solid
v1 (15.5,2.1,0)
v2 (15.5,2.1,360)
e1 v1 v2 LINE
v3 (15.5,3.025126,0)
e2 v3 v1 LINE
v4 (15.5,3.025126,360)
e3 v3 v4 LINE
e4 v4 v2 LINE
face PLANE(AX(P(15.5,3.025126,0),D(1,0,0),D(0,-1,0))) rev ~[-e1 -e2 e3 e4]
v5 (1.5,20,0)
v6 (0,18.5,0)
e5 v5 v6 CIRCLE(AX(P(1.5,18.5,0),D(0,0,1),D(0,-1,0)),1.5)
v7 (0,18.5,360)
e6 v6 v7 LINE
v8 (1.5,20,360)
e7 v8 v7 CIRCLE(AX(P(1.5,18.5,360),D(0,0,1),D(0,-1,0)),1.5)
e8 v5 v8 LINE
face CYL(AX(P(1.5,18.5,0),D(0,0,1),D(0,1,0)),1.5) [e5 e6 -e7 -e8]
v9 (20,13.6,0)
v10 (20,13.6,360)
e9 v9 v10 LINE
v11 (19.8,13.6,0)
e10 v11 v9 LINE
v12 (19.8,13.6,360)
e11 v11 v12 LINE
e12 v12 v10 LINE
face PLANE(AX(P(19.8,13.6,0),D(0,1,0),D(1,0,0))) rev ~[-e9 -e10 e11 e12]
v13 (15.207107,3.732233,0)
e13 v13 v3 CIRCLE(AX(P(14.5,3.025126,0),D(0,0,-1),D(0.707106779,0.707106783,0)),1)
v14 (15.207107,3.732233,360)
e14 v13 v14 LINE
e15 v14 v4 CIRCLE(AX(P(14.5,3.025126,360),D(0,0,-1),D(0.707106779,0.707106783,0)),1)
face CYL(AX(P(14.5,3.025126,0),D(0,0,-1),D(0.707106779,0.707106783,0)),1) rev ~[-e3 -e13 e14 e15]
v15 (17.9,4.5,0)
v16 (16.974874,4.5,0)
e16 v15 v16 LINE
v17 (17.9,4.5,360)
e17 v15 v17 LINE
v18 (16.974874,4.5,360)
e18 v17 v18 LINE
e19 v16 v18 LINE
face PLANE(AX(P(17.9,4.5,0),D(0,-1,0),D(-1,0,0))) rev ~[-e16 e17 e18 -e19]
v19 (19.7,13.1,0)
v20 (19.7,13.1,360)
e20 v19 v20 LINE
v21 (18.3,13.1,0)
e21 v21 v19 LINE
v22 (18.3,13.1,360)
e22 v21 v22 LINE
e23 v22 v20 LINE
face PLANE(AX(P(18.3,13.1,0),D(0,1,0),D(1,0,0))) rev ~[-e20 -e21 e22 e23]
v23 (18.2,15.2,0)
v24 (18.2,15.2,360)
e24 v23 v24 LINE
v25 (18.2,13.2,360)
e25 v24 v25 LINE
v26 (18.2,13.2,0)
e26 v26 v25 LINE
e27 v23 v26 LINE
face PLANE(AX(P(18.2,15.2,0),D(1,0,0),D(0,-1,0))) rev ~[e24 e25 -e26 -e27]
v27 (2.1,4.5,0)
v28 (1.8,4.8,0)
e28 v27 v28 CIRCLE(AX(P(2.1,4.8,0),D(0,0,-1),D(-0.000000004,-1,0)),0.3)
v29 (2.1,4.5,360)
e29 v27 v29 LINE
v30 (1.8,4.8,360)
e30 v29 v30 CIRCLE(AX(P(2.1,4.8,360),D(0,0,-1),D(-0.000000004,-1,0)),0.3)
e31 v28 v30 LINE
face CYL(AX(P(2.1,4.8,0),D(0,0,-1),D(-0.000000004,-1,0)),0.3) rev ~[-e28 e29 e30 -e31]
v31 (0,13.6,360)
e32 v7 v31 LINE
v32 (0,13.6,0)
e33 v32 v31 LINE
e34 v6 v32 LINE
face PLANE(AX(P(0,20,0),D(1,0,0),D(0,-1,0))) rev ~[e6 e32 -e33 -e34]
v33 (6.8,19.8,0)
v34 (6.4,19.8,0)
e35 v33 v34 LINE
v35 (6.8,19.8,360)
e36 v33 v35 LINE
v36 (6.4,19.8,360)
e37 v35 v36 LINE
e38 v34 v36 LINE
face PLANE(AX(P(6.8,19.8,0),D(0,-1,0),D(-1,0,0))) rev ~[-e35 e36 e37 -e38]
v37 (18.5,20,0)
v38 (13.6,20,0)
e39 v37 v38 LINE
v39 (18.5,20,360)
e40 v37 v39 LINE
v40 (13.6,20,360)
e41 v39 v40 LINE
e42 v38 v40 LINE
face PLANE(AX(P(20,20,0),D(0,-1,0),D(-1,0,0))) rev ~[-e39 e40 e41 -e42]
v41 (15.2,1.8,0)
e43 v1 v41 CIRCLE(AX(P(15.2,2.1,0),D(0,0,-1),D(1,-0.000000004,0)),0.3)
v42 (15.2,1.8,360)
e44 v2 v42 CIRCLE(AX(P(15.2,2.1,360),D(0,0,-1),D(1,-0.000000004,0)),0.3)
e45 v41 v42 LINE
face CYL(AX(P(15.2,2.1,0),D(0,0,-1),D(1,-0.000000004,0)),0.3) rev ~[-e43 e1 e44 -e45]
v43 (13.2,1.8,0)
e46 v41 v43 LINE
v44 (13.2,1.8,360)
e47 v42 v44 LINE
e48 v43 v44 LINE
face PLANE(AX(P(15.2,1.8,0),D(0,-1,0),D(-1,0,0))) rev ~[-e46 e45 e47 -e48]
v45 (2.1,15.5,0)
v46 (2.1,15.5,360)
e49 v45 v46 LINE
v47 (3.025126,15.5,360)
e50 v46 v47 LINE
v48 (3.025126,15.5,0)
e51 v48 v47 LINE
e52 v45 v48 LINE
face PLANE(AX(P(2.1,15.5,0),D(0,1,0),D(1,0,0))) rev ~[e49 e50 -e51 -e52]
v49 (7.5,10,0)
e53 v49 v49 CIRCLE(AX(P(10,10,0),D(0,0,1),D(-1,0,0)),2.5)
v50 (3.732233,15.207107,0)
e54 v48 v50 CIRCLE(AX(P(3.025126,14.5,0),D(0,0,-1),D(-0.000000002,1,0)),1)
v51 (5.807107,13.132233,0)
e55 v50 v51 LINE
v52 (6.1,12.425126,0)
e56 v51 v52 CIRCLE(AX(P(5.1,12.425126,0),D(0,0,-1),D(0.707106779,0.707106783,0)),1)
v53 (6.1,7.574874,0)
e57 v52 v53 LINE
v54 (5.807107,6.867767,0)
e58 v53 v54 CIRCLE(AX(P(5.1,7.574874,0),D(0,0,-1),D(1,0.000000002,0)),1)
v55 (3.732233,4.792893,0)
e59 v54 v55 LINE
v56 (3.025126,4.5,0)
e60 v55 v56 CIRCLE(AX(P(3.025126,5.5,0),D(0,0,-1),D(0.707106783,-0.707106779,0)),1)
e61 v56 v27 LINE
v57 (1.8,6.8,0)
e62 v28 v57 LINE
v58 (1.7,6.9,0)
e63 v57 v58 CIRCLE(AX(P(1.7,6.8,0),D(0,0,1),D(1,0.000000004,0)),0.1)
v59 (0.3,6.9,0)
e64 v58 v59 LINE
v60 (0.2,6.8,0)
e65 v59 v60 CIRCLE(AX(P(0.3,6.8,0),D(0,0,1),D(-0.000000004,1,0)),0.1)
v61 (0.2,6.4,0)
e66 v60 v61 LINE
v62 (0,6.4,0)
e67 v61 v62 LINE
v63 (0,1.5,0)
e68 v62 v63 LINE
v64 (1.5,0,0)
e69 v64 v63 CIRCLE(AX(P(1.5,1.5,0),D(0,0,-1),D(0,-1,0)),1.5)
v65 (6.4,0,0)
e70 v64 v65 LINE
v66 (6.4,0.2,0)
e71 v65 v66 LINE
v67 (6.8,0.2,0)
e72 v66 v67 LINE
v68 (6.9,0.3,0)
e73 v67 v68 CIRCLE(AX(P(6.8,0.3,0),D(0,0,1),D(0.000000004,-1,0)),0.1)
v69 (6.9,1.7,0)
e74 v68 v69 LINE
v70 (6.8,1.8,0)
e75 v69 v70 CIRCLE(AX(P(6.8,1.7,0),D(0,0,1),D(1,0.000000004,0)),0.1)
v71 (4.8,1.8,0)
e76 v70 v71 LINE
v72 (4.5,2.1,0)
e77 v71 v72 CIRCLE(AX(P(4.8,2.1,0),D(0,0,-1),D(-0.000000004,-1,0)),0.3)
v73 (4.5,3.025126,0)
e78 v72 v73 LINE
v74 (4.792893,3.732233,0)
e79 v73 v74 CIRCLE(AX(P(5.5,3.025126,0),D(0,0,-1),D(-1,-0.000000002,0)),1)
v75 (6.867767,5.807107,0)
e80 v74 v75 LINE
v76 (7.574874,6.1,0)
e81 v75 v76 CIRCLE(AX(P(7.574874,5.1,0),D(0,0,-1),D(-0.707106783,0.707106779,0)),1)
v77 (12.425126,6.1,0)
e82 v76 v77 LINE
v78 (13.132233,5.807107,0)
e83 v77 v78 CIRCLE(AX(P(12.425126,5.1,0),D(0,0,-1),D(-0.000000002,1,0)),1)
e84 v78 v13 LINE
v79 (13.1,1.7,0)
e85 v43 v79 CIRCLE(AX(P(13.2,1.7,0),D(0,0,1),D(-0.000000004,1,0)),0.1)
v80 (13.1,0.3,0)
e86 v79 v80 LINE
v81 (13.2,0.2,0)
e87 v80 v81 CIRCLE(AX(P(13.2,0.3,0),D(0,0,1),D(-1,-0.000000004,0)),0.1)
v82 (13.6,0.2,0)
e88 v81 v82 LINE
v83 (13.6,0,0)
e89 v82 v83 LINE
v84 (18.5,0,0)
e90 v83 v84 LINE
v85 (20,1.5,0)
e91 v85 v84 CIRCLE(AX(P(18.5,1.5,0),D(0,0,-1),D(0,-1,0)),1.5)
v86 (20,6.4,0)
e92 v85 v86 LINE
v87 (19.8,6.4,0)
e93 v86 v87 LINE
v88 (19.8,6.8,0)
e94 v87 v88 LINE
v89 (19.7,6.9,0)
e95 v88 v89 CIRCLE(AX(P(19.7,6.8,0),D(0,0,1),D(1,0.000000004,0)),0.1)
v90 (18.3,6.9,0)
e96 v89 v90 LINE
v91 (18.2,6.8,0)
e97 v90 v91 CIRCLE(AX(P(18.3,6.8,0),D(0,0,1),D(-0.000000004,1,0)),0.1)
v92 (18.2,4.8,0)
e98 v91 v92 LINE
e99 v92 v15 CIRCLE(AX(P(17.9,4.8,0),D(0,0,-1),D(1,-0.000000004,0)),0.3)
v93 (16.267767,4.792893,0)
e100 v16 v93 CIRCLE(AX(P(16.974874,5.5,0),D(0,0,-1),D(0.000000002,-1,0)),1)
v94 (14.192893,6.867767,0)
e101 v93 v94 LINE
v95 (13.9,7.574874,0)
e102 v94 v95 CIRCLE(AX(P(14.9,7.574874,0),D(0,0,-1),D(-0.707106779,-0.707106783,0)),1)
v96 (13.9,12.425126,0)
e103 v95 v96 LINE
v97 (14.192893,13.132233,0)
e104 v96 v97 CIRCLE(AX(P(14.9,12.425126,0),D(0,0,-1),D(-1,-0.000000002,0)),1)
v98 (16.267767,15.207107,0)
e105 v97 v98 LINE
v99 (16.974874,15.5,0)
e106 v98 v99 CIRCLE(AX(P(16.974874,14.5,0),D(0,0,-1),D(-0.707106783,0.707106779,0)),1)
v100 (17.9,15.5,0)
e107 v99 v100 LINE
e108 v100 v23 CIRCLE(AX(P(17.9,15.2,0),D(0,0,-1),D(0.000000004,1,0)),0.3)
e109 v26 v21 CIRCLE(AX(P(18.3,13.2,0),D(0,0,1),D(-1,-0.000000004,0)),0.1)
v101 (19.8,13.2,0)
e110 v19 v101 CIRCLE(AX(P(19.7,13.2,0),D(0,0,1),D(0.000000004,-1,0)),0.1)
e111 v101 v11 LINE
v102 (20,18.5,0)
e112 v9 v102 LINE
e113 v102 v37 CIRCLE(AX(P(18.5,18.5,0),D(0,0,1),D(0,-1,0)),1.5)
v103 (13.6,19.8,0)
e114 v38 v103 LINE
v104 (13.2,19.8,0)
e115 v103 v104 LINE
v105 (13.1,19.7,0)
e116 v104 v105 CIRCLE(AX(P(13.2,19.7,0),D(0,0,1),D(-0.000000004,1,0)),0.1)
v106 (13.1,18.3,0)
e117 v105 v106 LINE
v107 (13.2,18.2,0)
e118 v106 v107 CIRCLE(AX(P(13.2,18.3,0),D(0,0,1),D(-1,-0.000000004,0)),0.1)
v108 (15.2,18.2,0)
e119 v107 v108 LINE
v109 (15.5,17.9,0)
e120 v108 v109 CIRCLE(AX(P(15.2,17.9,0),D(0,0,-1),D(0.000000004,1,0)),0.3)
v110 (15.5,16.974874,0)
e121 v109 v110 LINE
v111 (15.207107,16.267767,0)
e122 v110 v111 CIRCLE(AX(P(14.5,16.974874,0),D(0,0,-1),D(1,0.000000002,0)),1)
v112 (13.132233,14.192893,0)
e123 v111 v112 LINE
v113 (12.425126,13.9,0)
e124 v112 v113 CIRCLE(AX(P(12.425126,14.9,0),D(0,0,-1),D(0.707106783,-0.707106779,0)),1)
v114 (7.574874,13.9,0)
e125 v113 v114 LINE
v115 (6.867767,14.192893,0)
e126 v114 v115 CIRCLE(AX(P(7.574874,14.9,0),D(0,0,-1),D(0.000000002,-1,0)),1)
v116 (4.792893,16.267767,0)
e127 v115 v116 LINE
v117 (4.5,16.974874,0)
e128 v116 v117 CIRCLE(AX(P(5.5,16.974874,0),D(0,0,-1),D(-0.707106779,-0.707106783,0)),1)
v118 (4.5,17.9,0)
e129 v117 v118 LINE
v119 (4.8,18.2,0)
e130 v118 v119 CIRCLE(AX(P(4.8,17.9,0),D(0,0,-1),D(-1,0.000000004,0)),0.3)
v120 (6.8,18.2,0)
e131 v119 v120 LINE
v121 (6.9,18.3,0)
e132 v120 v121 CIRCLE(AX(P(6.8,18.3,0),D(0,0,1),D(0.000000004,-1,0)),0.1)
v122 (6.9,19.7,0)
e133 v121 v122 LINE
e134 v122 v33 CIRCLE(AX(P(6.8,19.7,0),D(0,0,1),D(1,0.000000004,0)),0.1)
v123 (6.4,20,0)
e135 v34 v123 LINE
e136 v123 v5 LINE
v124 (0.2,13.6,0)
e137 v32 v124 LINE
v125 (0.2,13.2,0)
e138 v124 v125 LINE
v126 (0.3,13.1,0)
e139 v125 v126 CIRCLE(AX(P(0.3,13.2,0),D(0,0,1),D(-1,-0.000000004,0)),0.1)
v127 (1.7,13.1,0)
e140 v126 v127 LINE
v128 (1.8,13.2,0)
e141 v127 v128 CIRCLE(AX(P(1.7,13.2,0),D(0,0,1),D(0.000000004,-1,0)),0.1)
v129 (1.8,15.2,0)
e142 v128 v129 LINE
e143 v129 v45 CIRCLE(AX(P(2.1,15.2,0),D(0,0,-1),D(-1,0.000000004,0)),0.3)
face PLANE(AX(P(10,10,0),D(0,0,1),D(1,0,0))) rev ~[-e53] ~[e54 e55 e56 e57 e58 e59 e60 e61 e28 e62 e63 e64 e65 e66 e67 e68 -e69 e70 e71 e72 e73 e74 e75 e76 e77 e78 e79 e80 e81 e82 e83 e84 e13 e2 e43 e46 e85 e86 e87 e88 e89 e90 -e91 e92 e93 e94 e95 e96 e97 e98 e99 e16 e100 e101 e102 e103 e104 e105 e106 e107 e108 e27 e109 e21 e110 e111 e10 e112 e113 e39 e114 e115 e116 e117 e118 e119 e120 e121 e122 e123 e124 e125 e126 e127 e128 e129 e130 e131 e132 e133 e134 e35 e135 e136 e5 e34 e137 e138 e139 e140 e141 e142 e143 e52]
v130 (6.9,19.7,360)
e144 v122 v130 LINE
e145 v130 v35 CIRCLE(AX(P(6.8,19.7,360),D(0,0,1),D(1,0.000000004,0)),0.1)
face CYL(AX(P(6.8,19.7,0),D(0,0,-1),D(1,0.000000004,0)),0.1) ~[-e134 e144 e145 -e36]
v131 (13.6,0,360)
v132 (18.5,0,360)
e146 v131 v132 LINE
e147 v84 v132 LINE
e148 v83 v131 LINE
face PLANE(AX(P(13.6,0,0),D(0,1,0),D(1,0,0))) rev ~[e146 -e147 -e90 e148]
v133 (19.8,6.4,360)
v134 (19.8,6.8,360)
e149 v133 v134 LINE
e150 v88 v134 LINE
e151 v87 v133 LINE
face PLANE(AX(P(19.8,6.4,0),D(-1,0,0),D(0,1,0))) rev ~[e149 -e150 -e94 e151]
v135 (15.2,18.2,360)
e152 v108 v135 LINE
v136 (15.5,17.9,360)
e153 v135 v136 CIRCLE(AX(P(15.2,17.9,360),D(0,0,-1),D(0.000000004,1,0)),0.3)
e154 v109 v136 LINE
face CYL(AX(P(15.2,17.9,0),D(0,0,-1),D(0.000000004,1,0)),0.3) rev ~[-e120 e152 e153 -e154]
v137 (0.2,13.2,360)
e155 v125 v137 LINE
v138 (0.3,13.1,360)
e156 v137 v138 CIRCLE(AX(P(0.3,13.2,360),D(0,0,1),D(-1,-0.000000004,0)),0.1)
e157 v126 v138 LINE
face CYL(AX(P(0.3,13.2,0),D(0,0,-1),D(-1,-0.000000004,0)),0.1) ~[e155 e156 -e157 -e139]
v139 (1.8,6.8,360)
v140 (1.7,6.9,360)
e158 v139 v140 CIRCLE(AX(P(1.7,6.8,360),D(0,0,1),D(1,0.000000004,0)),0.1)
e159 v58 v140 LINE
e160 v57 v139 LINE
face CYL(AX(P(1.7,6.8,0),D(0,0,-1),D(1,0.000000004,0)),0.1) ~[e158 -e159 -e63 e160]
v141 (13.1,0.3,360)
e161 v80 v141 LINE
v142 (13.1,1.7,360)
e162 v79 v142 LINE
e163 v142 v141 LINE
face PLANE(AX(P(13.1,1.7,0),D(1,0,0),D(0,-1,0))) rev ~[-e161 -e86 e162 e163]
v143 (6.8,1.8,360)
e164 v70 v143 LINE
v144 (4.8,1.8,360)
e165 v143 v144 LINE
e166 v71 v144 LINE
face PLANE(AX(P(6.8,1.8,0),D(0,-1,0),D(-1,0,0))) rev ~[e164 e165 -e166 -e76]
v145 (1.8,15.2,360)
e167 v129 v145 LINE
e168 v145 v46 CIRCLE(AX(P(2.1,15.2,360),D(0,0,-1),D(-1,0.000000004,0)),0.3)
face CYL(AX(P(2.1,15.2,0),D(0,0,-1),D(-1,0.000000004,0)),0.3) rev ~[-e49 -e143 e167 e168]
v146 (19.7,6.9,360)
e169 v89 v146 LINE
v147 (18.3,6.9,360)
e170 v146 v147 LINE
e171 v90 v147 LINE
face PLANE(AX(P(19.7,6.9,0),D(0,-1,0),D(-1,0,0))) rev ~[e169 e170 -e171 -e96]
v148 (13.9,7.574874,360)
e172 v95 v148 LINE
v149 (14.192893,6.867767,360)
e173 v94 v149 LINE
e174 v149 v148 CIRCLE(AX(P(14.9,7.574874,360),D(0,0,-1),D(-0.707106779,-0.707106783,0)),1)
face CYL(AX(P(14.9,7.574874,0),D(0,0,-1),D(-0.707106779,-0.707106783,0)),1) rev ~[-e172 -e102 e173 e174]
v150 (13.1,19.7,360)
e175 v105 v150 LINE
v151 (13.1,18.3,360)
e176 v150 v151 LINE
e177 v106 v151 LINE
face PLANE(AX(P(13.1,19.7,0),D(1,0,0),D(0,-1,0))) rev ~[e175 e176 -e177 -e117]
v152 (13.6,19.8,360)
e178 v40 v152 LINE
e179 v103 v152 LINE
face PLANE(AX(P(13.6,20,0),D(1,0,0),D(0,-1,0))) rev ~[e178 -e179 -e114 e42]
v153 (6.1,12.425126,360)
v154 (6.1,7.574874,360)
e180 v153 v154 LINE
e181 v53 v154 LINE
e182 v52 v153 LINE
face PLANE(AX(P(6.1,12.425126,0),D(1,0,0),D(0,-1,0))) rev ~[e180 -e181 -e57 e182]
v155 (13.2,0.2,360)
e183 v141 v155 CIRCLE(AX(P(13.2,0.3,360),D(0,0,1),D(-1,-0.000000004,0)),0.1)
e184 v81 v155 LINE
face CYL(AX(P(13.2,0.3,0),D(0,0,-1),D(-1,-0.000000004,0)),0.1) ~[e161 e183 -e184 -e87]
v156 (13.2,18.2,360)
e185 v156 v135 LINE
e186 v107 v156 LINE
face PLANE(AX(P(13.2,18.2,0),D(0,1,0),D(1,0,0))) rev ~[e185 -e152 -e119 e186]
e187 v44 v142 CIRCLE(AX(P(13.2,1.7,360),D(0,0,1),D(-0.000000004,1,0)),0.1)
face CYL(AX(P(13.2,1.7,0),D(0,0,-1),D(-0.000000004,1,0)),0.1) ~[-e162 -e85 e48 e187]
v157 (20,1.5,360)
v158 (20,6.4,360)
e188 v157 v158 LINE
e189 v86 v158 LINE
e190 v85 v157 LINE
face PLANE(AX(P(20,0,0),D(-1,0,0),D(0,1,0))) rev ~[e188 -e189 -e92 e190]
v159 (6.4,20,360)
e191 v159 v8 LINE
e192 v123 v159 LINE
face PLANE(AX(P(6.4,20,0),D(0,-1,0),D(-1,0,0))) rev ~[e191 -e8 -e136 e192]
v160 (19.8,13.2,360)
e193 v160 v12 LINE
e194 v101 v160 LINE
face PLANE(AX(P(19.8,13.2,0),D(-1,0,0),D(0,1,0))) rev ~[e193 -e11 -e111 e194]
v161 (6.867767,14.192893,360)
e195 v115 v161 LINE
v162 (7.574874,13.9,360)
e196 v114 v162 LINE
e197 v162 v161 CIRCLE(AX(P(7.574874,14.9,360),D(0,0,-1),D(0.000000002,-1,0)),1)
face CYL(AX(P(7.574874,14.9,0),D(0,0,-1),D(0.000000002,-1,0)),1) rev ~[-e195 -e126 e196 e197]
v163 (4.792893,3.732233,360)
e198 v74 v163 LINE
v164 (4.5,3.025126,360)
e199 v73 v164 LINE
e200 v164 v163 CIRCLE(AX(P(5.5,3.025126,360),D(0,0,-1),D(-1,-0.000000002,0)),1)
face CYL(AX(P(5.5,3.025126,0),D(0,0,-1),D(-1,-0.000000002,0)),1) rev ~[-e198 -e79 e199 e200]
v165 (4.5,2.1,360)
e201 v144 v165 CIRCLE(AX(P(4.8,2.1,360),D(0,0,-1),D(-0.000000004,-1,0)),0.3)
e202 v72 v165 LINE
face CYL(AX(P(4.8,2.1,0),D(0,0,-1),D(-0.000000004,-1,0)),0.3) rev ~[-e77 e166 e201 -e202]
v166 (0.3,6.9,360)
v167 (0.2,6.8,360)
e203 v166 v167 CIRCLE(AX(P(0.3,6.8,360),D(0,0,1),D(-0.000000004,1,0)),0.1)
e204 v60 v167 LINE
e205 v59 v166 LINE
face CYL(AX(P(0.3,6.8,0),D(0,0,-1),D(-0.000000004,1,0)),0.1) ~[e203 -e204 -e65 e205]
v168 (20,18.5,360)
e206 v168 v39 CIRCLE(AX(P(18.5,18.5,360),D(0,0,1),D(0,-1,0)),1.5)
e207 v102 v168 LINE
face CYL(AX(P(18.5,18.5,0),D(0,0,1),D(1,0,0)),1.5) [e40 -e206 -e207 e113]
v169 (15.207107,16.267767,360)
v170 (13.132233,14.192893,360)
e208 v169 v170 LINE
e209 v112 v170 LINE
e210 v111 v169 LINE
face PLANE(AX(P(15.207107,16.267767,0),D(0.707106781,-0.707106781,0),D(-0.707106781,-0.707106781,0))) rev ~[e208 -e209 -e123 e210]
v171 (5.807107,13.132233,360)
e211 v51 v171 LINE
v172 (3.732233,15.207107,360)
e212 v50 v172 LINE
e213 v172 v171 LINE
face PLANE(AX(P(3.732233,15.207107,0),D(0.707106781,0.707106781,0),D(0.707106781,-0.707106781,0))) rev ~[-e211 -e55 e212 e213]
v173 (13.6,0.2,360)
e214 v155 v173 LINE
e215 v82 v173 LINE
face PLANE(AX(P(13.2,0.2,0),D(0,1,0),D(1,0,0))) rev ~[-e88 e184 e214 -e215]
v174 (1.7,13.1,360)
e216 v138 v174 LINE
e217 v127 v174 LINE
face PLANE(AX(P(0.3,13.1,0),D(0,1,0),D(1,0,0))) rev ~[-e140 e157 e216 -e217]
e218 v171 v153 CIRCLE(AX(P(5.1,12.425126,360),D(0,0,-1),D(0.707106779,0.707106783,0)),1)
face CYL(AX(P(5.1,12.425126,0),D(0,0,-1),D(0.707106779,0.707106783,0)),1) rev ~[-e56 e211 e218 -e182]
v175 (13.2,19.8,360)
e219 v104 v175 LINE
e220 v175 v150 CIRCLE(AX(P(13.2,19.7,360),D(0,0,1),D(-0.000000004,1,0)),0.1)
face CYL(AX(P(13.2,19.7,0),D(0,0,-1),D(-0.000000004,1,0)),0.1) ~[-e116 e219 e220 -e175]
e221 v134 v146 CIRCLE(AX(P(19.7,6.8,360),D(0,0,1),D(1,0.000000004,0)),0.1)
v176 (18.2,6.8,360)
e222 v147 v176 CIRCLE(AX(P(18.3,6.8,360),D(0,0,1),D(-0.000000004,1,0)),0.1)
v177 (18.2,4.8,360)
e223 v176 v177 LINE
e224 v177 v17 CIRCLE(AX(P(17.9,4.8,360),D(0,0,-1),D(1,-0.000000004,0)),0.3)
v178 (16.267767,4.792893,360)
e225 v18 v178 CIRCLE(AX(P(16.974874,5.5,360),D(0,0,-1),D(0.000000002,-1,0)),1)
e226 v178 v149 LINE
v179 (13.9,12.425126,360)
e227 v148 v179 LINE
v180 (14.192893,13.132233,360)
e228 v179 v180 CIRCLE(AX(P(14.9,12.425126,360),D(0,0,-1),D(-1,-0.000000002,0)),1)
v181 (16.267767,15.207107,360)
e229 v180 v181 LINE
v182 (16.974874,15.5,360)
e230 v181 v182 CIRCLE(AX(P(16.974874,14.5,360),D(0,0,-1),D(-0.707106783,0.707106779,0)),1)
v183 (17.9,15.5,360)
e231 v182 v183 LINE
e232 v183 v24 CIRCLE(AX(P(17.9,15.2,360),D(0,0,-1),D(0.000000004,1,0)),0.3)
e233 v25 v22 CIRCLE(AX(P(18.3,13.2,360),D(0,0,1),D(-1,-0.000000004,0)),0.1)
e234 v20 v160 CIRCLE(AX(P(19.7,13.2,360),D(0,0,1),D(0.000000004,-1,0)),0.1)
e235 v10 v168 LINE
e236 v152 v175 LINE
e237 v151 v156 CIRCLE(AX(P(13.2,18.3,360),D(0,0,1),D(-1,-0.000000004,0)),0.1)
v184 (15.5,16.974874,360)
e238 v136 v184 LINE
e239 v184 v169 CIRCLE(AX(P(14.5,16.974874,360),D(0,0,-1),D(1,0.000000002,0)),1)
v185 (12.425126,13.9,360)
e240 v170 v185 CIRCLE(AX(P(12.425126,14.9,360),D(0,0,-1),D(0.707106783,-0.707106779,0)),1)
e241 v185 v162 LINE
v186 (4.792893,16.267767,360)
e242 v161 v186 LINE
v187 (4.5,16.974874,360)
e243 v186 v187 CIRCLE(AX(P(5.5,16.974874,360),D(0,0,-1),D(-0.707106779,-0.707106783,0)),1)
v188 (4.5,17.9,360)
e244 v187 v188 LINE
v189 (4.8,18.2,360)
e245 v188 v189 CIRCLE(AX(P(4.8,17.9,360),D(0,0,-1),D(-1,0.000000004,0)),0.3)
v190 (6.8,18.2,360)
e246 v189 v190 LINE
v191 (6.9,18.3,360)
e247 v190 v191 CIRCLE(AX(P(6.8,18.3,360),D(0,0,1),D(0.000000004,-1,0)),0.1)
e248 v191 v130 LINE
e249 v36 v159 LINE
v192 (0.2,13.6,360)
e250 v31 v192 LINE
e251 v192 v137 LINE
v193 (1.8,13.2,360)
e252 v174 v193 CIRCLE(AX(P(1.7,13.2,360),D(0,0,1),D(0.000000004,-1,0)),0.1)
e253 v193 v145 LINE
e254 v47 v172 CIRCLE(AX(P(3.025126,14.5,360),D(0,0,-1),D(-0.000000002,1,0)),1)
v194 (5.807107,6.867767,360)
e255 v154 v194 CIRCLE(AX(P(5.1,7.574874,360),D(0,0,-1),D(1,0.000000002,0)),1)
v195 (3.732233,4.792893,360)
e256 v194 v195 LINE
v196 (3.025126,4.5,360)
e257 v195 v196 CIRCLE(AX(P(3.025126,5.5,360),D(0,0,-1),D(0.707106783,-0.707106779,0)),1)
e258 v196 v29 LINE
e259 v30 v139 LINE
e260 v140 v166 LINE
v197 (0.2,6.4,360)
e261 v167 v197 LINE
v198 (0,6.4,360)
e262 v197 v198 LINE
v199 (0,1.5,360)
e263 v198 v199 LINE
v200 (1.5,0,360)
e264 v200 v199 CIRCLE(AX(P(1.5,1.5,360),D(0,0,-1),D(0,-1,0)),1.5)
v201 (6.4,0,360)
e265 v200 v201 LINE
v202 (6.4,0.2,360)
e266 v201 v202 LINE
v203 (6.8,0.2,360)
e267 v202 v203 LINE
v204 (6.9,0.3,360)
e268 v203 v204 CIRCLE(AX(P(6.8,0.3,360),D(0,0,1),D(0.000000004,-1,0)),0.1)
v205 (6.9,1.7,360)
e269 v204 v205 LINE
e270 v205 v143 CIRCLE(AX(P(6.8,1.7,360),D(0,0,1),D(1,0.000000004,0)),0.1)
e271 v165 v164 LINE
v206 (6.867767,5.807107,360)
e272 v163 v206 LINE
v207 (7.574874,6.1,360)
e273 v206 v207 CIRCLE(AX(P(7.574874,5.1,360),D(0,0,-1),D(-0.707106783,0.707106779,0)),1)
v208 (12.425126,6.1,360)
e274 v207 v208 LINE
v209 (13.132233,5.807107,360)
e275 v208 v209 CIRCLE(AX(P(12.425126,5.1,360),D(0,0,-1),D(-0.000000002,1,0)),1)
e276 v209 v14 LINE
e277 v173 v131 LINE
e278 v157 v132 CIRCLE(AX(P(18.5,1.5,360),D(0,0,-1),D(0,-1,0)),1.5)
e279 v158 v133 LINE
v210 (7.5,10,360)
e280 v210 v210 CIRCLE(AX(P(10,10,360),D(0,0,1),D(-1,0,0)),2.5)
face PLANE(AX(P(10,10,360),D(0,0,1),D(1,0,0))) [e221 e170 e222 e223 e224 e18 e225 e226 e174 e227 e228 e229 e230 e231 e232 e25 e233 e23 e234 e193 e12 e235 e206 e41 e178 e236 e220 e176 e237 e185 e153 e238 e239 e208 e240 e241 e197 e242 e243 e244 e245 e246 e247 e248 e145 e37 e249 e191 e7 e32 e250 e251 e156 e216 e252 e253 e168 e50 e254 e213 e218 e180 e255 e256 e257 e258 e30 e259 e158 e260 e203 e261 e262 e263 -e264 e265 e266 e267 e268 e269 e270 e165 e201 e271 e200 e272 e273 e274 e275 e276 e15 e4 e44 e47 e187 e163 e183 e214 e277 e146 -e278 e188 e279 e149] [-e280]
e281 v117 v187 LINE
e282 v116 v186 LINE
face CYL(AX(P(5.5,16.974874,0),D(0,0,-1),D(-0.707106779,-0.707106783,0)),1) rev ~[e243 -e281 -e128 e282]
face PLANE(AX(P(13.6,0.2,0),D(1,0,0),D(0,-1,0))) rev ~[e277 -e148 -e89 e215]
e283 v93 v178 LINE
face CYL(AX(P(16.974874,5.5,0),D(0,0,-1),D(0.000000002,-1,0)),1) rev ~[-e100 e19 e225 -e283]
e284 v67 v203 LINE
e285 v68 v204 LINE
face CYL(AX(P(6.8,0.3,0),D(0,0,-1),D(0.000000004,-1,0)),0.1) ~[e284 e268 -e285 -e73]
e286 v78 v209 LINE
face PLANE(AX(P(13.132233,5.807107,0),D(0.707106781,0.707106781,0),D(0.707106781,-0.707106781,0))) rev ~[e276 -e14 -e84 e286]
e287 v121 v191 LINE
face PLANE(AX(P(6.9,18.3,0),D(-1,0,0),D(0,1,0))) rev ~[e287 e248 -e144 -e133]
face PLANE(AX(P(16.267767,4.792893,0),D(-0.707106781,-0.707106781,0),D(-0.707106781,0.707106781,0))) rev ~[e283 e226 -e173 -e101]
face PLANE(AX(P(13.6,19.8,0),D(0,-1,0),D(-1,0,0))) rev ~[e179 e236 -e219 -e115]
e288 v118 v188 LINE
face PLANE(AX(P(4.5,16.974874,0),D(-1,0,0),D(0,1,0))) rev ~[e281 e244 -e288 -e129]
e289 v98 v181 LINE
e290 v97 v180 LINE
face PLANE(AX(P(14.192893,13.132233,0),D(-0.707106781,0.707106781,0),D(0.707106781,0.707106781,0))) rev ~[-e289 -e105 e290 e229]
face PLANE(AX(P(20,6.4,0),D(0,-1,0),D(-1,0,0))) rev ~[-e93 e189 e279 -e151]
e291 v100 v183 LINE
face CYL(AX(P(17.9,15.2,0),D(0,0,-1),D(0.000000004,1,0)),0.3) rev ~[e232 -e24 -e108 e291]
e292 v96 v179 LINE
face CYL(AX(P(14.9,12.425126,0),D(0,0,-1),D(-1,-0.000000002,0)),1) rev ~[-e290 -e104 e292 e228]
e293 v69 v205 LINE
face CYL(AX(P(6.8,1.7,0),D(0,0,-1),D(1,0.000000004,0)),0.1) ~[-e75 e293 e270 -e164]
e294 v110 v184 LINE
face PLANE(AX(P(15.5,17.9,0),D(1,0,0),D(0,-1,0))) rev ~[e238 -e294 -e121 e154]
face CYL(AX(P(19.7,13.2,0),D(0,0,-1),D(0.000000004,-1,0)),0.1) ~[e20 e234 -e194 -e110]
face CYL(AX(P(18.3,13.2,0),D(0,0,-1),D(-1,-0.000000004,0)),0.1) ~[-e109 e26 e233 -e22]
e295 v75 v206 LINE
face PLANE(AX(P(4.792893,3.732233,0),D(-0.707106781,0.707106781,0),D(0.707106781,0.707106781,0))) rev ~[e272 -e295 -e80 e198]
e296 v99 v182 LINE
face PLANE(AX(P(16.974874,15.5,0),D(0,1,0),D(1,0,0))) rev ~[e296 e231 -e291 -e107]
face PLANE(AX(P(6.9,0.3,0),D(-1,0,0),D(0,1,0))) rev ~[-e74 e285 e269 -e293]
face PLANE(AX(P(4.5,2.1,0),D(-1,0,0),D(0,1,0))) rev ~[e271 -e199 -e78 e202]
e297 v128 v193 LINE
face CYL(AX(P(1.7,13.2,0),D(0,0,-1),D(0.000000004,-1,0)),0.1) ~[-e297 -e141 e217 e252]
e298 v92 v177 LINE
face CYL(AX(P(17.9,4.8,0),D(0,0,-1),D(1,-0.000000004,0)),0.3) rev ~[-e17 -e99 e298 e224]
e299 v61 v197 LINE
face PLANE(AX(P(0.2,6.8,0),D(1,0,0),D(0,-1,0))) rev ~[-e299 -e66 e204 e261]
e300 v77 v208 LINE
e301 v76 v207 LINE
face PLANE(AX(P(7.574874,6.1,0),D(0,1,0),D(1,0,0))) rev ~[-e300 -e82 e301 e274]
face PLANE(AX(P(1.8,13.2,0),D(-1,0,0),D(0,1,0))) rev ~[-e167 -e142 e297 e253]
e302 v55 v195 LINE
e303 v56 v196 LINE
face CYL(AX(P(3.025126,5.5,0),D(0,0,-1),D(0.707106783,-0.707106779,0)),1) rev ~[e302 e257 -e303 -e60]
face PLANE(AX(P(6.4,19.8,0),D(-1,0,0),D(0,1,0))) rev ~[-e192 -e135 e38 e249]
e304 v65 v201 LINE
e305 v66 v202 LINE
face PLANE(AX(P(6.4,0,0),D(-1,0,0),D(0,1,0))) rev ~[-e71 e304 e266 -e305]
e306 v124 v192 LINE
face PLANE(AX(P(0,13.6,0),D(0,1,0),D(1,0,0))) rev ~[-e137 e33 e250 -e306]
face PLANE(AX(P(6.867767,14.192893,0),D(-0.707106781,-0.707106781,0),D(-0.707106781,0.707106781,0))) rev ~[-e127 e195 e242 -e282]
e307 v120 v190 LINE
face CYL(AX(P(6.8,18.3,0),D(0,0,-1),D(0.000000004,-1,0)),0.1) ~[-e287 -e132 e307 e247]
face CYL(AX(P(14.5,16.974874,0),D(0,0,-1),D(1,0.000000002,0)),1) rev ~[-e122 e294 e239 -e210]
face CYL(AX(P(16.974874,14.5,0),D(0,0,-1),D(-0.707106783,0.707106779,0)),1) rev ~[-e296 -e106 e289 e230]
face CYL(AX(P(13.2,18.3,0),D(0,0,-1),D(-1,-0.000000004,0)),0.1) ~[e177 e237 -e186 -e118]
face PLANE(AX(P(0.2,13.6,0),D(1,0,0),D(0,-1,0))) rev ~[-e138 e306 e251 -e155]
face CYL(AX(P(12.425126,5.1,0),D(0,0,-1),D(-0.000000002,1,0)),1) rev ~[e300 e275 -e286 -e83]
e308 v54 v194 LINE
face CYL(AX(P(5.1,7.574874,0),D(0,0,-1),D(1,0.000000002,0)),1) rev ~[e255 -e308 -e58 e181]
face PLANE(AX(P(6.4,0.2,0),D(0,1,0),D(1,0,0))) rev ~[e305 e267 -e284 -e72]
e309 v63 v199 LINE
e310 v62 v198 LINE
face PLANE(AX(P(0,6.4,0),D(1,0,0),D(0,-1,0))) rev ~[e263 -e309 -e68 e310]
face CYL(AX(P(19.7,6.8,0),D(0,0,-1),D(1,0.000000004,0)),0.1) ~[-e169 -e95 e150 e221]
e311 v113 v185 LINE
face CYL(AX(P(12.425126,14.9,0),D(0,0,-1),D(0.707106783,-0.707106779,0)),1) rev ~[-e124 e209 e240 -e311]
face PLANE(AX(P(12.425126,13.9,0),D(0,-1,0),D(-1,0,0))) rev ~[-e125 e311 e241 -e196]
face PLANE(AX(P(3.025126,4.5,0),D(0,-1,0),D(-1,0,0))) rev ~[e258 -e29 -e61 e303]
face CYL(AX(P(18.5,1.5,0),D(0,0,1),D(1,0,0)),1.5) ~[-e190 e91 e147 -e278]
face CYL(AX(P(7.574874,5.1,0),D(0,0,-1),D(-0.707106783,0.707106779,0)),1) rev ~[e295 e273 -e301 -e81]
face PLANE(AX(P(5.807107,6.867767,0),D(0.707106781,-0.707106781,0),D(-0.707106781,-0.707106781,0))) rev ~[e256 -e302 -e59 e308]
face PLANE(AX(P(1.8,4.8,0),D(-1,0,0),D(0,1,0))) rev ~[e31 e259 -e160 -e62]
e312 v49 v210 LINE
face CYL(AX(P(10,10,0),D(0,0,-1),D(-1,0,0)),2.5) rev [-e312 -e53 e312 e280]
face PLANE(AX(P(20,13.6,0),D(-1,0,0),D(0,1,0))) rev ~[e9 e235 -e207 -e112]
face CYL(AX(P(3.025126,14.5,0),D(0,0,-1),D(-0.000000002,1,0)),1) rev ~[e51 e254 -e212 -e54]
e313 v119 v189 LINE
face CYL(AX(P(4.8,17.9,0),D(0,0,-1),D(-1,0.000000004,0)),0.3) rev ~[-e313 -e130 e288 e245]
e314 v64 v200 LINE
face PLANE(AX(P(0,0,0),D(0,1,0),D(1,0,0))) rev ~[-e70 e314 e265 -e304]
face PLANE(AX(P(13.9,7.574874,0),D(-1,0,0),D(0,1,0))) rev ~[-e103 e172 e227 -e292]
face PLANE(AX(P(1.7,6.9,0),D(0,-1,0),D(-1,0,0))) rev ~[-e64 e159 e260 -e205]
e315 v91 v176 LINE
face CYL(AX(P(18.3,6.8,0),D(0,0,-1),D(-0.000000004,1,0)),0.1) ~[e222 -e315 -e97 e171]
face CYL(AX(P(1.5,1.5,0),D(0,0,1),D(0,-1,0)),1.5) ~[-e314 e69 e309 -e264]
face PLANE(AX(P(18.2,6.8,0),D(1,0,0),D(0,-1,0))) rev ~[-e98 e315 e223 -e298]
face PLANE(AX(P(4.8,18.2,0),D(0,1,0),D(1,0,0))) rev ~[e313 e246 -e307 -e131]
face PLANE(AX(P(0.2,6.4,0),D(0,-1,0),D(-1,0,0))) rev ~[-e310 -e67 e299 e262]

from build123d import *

# Parameters (mm, degrees)
SKETCH_1_R      = 2.5
EXTRUDE_1_DEPTH = 360
FILLET_1_R      = 1.5


with BuildPart() as part:
    # 草图1 → 凸台-拉伸1 (new body)
    with BuildSketch(Plane.XY):
        with BuildLine():
            Line((20, 13.6), (20, 20))
            Line((20, 20), (13.6, 20))
            Line((13.6, 20), (13.6, 19.8))
            Line((13.6, 19.8), (13.2, 19.8))
            ThreePointArc((13.2, 19.8), (13.129289322, 19.770710678), (13.1, 19.7))
            Line((13.1, 19.7), (13.1, 18.3))
            ThreePointArc((13.1, 18.3), (13.129289322, 18.229289322), (13.2, 18.2))
            Line((13.2, 18.2), (15.2, 18.2))
            ThreePointArc((15.2, 18.2), (15.412132034, 18.112132034), (15.5, 17.9))
            Line((15.5, 17.9), (15.5, 16.974873734))
            ThreePointArc((15.5, 16.974873734), (15.423879533, 16.592190302), (15.207106781, 16.267766953))
            Line((15.207106781, 16.267766953), (13.132233047, 14.192893219))
            ThreePointArc((13.132233047, 14.192893219), (12.807809698, 13.976120467), (12.425126266, 13.9))
            Line((12.425126266, 13.9), (7.574873734, 13.9))
            ThreePointArc((7.574873734, 13.9), (7.192190302, 13.976120467), (6.867766953, 14.192893219))
            Line((6.867766953, 14.192893219), (4.792893219, 16.267766953))
            ThreePointArc((4.792893219, 16.267766953), (4.576120467, 16.592190302), (4.5, 16.974873734))
            Line((4.5, 16.974873734), (4.5, 17.9))
            ThreePointArc((4.5, 17.9), (4.587867966, 18.112132034), (4.8, 18.2))
            Line((4.8, 18.2), (6.8, 18.2))
            ThreePointArc((6.8, 18.2), (6.870710678, 18.229289322), (6.9, 18.3))
            Line((6.9, 18.3), (6.9, 19.7))
            ThreePointArc((6.9, 19.7), (6.870710678, 19.770710678), (6.8, 19.8))
            Line((6.8, 19.8), (6.4, 19.8))
            Line((6.4, 19.8), (6.4, 20))
            Line((6.4, 20), (0, 20))
            Line((0, 20), (0, 13.6))
            Line((0, 13.6), (0.2, 13.6))
            Line((0.2, 13.6), (0.2, 13.2))
            ThreePointArc((0.2, 13.2), (0.229289322, 13.129289322), (0.3, 13.1))
            Line((0.3, 13.1), (1.7, 13.1))
            ThreePointArc((1.7, 13.1), (1.770710678, 13.129289322), (1.8, 13.2))
            Line((1.8, 13.2), (1.8, 15.2))
            ThreePointArc((1.8, 15.2), (1.887867966, 15.412132034), (2.1, 15.5))
            Line((2.1, 15.5), (3.025126266, 15.5))
            ThreePointArc((3.025126266, 15.5), (3.407809698, 15.423879533), (3.732233047, 15.207106781))
            Line((3.732233047, 15.207106781), (5.807106781, 13.132233047))
            ThreePointArc((5.807106781, 13.132233047), (6.023879533, 12.807809698), (6.1, 12.425126266))
            Line((6.1, 12.425126266), (6.1, 7.574873734))
            ThreePointArc((6.1, 7.574873734), (6.023879533, 7.192190302), (5.807106781, 6.867766953))
            Line((5.807106781, 6.867766953), (3.732233047, 4.792893219))
            ThreePointArc((3.732233047, 4.792893219), (3.407809698, 4.576120467), (3.025126266, 4.5))
            Line((3.025126266, 4.5), (2.1, 4.5))
            ThreePointArc((2.1, 4.5), (1.887867966, 4.587867966), (1.8, 4.8))
            Line((1.8, 4.8), (1.8, 6.8))
            ThreePointArc((1.8, 6.8), (1.770710678, 6.870710678), (1.7, 6.9))
            Line((1.7, 6.9), (0.3, 6.9))
            ThreePointArc((0.3, 6.9), (0.229289322, 6.870710678), (0.2, 6.8))
            Line((0.2, 6.8), (0.2, 6.4))
            Line((0.2, 6.4), (0, 6.4))
            Line((0, 6.4), (0, 0))
            Line((0, 0), (6.4, 0))
            Line((6.4, 0), (6.4, 0.2))
            Line((6.4, 0.2), (6.8, 0.2))
            ThreePointArc((6.8, 0.2), (6.870710678, 0.229289322), (6.9, 0.3))
            Line((6.9, 0.3), (6.9, 1.7))
            ThreePointArc((6.9, 1.7), (6.870710678, 1.770710678), (6.8, 1.8))
            Line((6.8, 1.8), (4.8, 1.8))
            ThreePointArc((4.8, 1.8), (4.587867966, 1.887867966), (4.5, 2.1))
            Line((4.5, 2.1), (4.5, 3.025126266))
            ThreePointArc((4.5, 3.025126266), (4.576120467, 3.407809698), (4.792893219, 3.732233047))
            Line((4.792893219, 3.732233047), (6.867766953, 5.807106781))
            ThreePointArc((6.867766953, 5.807106781), (7.192190302, 6.023879533), (7.574873734, 6.1))
            Line((7.574873734, 6.1), (12.425126266, 6.1))
            ThreePointArc((12.425126266, 6.1), (12.807809698, 6.023879533), (13.132233047, 5.807106781))
            Line((13.132233047, 5.807106781), (15.207106781, 3.732233047))
            ThreePointArc((15.207106781, 3.732233047), (15.423879533, 3.407809698), (15.5, 3.025126266))
            Line((15.5, 3.025126266), (15.5, 2.1))
            ThreePointArc((15.5, 2.1), (15.412132034, 1.887867966), (15.2, 1.8))
            Line((15.2, 1.8), (13.2, 1.8))
            ThreePointArc((13.2, 1.8), (13.129289322, 1.770710678), (13.1, 1.7))
            Line((13.1, 1.7), (13.1, 0.3))
            ThreePointArc((13.1, 0.3), (13.129289322, 0.229289322), (13.2, 0.2))
            Line((13.2, 0.2), (13.6, 0.2))
            Line((13.6, 0.2), (13.6, 0))
            Line((13.6, 0), (20, 0))
            Line((20, 0), (20, 6.4))
            Line((20, 6.4), (19.8, 6.4))
            Line((19.8, 6.4), (19.8, 6.8))
            ThreePointArc((19.8, 6.8), (19.770710678, 6.870710678), (19.7, 6.9))
            Line((19.7, 6.9), (18.3, 6.9))
            ThreePointArc((18.3, 6.9), (18.229289322, 6.870710678), (18.2, 6.8))
            Line((18.2, 6.8), (18.2, 4.8))
            ThreePointArc((18.2, 4.8), (18.112132034, 4.587867966), (17.9, 4.5))
            Line((17.9, 4.5), (16.974873734, 4.5))
            ThreePointArc((16.974873734, 4.5), (16.592190302, 4.576120467), (16.267766953, 4.792893219))
            Line((16.267766953, 4.792893219), (14.192893219, 6.867766953))
            ThreePointArc((14.192893219, 6.867766953), (13.976120467, 7.192190302), (13.9, 7.574873734))
            Line((13.9, 7.574873734), (13.9, 12.425126266))
            ThreePointArc((13.9, 12.425126266), (13.976120467, 12.807809698), (14.192893219, 13.132233047))
            Line((14.192893219, 13.132233047), (16.267766953, 15.207106781))
            ThreePointArc((16.267766953, 15.207106781), (16.592190302, 15.423879533), (16.974873734, 15.5))
            Line((16.974873734, 15.5), (17.9, 15.5))
            ThreePointArc((17.9, 15.5), (18.112132034, 15.412132034), (18.2, 15.2))
            Line((18.2, 15.2), (18.2, 13.2))
            ThreePointArc((18.2, 13.2), (18.229289322, 13.129289322), (18.3, 13.1))
            Line((18.3, 13.1), (19.7, 13.1))
            ThreePointArc((19.7, 13.1), (19.770710678, 13.129289322), (19.8, 13.2))
            Line((19.8, 13.2), (19.8, 13.6))
            Line((19.8, 13.6), (20, 13.6))
        make_face()
        with Locations(Location((10, 10, 0), (0, 0, 180))):
            Circle(SKETCH_1_R, mode=Mode.SUBTRACT)
    extrude(amount=EXTRUDE_1_DEPTH)

    # 圆角1
    fillet_1_edges = [part.edges().sort_by_distance(p)[0] for p in [
        (0, 0, 180),
        (0, 20, 180),
        (20, 20, 180),
        (20, 0, 180),
    ]]
    fillet(fillet_1_edges, radius=FILLET_1_R)


solid = part.part
